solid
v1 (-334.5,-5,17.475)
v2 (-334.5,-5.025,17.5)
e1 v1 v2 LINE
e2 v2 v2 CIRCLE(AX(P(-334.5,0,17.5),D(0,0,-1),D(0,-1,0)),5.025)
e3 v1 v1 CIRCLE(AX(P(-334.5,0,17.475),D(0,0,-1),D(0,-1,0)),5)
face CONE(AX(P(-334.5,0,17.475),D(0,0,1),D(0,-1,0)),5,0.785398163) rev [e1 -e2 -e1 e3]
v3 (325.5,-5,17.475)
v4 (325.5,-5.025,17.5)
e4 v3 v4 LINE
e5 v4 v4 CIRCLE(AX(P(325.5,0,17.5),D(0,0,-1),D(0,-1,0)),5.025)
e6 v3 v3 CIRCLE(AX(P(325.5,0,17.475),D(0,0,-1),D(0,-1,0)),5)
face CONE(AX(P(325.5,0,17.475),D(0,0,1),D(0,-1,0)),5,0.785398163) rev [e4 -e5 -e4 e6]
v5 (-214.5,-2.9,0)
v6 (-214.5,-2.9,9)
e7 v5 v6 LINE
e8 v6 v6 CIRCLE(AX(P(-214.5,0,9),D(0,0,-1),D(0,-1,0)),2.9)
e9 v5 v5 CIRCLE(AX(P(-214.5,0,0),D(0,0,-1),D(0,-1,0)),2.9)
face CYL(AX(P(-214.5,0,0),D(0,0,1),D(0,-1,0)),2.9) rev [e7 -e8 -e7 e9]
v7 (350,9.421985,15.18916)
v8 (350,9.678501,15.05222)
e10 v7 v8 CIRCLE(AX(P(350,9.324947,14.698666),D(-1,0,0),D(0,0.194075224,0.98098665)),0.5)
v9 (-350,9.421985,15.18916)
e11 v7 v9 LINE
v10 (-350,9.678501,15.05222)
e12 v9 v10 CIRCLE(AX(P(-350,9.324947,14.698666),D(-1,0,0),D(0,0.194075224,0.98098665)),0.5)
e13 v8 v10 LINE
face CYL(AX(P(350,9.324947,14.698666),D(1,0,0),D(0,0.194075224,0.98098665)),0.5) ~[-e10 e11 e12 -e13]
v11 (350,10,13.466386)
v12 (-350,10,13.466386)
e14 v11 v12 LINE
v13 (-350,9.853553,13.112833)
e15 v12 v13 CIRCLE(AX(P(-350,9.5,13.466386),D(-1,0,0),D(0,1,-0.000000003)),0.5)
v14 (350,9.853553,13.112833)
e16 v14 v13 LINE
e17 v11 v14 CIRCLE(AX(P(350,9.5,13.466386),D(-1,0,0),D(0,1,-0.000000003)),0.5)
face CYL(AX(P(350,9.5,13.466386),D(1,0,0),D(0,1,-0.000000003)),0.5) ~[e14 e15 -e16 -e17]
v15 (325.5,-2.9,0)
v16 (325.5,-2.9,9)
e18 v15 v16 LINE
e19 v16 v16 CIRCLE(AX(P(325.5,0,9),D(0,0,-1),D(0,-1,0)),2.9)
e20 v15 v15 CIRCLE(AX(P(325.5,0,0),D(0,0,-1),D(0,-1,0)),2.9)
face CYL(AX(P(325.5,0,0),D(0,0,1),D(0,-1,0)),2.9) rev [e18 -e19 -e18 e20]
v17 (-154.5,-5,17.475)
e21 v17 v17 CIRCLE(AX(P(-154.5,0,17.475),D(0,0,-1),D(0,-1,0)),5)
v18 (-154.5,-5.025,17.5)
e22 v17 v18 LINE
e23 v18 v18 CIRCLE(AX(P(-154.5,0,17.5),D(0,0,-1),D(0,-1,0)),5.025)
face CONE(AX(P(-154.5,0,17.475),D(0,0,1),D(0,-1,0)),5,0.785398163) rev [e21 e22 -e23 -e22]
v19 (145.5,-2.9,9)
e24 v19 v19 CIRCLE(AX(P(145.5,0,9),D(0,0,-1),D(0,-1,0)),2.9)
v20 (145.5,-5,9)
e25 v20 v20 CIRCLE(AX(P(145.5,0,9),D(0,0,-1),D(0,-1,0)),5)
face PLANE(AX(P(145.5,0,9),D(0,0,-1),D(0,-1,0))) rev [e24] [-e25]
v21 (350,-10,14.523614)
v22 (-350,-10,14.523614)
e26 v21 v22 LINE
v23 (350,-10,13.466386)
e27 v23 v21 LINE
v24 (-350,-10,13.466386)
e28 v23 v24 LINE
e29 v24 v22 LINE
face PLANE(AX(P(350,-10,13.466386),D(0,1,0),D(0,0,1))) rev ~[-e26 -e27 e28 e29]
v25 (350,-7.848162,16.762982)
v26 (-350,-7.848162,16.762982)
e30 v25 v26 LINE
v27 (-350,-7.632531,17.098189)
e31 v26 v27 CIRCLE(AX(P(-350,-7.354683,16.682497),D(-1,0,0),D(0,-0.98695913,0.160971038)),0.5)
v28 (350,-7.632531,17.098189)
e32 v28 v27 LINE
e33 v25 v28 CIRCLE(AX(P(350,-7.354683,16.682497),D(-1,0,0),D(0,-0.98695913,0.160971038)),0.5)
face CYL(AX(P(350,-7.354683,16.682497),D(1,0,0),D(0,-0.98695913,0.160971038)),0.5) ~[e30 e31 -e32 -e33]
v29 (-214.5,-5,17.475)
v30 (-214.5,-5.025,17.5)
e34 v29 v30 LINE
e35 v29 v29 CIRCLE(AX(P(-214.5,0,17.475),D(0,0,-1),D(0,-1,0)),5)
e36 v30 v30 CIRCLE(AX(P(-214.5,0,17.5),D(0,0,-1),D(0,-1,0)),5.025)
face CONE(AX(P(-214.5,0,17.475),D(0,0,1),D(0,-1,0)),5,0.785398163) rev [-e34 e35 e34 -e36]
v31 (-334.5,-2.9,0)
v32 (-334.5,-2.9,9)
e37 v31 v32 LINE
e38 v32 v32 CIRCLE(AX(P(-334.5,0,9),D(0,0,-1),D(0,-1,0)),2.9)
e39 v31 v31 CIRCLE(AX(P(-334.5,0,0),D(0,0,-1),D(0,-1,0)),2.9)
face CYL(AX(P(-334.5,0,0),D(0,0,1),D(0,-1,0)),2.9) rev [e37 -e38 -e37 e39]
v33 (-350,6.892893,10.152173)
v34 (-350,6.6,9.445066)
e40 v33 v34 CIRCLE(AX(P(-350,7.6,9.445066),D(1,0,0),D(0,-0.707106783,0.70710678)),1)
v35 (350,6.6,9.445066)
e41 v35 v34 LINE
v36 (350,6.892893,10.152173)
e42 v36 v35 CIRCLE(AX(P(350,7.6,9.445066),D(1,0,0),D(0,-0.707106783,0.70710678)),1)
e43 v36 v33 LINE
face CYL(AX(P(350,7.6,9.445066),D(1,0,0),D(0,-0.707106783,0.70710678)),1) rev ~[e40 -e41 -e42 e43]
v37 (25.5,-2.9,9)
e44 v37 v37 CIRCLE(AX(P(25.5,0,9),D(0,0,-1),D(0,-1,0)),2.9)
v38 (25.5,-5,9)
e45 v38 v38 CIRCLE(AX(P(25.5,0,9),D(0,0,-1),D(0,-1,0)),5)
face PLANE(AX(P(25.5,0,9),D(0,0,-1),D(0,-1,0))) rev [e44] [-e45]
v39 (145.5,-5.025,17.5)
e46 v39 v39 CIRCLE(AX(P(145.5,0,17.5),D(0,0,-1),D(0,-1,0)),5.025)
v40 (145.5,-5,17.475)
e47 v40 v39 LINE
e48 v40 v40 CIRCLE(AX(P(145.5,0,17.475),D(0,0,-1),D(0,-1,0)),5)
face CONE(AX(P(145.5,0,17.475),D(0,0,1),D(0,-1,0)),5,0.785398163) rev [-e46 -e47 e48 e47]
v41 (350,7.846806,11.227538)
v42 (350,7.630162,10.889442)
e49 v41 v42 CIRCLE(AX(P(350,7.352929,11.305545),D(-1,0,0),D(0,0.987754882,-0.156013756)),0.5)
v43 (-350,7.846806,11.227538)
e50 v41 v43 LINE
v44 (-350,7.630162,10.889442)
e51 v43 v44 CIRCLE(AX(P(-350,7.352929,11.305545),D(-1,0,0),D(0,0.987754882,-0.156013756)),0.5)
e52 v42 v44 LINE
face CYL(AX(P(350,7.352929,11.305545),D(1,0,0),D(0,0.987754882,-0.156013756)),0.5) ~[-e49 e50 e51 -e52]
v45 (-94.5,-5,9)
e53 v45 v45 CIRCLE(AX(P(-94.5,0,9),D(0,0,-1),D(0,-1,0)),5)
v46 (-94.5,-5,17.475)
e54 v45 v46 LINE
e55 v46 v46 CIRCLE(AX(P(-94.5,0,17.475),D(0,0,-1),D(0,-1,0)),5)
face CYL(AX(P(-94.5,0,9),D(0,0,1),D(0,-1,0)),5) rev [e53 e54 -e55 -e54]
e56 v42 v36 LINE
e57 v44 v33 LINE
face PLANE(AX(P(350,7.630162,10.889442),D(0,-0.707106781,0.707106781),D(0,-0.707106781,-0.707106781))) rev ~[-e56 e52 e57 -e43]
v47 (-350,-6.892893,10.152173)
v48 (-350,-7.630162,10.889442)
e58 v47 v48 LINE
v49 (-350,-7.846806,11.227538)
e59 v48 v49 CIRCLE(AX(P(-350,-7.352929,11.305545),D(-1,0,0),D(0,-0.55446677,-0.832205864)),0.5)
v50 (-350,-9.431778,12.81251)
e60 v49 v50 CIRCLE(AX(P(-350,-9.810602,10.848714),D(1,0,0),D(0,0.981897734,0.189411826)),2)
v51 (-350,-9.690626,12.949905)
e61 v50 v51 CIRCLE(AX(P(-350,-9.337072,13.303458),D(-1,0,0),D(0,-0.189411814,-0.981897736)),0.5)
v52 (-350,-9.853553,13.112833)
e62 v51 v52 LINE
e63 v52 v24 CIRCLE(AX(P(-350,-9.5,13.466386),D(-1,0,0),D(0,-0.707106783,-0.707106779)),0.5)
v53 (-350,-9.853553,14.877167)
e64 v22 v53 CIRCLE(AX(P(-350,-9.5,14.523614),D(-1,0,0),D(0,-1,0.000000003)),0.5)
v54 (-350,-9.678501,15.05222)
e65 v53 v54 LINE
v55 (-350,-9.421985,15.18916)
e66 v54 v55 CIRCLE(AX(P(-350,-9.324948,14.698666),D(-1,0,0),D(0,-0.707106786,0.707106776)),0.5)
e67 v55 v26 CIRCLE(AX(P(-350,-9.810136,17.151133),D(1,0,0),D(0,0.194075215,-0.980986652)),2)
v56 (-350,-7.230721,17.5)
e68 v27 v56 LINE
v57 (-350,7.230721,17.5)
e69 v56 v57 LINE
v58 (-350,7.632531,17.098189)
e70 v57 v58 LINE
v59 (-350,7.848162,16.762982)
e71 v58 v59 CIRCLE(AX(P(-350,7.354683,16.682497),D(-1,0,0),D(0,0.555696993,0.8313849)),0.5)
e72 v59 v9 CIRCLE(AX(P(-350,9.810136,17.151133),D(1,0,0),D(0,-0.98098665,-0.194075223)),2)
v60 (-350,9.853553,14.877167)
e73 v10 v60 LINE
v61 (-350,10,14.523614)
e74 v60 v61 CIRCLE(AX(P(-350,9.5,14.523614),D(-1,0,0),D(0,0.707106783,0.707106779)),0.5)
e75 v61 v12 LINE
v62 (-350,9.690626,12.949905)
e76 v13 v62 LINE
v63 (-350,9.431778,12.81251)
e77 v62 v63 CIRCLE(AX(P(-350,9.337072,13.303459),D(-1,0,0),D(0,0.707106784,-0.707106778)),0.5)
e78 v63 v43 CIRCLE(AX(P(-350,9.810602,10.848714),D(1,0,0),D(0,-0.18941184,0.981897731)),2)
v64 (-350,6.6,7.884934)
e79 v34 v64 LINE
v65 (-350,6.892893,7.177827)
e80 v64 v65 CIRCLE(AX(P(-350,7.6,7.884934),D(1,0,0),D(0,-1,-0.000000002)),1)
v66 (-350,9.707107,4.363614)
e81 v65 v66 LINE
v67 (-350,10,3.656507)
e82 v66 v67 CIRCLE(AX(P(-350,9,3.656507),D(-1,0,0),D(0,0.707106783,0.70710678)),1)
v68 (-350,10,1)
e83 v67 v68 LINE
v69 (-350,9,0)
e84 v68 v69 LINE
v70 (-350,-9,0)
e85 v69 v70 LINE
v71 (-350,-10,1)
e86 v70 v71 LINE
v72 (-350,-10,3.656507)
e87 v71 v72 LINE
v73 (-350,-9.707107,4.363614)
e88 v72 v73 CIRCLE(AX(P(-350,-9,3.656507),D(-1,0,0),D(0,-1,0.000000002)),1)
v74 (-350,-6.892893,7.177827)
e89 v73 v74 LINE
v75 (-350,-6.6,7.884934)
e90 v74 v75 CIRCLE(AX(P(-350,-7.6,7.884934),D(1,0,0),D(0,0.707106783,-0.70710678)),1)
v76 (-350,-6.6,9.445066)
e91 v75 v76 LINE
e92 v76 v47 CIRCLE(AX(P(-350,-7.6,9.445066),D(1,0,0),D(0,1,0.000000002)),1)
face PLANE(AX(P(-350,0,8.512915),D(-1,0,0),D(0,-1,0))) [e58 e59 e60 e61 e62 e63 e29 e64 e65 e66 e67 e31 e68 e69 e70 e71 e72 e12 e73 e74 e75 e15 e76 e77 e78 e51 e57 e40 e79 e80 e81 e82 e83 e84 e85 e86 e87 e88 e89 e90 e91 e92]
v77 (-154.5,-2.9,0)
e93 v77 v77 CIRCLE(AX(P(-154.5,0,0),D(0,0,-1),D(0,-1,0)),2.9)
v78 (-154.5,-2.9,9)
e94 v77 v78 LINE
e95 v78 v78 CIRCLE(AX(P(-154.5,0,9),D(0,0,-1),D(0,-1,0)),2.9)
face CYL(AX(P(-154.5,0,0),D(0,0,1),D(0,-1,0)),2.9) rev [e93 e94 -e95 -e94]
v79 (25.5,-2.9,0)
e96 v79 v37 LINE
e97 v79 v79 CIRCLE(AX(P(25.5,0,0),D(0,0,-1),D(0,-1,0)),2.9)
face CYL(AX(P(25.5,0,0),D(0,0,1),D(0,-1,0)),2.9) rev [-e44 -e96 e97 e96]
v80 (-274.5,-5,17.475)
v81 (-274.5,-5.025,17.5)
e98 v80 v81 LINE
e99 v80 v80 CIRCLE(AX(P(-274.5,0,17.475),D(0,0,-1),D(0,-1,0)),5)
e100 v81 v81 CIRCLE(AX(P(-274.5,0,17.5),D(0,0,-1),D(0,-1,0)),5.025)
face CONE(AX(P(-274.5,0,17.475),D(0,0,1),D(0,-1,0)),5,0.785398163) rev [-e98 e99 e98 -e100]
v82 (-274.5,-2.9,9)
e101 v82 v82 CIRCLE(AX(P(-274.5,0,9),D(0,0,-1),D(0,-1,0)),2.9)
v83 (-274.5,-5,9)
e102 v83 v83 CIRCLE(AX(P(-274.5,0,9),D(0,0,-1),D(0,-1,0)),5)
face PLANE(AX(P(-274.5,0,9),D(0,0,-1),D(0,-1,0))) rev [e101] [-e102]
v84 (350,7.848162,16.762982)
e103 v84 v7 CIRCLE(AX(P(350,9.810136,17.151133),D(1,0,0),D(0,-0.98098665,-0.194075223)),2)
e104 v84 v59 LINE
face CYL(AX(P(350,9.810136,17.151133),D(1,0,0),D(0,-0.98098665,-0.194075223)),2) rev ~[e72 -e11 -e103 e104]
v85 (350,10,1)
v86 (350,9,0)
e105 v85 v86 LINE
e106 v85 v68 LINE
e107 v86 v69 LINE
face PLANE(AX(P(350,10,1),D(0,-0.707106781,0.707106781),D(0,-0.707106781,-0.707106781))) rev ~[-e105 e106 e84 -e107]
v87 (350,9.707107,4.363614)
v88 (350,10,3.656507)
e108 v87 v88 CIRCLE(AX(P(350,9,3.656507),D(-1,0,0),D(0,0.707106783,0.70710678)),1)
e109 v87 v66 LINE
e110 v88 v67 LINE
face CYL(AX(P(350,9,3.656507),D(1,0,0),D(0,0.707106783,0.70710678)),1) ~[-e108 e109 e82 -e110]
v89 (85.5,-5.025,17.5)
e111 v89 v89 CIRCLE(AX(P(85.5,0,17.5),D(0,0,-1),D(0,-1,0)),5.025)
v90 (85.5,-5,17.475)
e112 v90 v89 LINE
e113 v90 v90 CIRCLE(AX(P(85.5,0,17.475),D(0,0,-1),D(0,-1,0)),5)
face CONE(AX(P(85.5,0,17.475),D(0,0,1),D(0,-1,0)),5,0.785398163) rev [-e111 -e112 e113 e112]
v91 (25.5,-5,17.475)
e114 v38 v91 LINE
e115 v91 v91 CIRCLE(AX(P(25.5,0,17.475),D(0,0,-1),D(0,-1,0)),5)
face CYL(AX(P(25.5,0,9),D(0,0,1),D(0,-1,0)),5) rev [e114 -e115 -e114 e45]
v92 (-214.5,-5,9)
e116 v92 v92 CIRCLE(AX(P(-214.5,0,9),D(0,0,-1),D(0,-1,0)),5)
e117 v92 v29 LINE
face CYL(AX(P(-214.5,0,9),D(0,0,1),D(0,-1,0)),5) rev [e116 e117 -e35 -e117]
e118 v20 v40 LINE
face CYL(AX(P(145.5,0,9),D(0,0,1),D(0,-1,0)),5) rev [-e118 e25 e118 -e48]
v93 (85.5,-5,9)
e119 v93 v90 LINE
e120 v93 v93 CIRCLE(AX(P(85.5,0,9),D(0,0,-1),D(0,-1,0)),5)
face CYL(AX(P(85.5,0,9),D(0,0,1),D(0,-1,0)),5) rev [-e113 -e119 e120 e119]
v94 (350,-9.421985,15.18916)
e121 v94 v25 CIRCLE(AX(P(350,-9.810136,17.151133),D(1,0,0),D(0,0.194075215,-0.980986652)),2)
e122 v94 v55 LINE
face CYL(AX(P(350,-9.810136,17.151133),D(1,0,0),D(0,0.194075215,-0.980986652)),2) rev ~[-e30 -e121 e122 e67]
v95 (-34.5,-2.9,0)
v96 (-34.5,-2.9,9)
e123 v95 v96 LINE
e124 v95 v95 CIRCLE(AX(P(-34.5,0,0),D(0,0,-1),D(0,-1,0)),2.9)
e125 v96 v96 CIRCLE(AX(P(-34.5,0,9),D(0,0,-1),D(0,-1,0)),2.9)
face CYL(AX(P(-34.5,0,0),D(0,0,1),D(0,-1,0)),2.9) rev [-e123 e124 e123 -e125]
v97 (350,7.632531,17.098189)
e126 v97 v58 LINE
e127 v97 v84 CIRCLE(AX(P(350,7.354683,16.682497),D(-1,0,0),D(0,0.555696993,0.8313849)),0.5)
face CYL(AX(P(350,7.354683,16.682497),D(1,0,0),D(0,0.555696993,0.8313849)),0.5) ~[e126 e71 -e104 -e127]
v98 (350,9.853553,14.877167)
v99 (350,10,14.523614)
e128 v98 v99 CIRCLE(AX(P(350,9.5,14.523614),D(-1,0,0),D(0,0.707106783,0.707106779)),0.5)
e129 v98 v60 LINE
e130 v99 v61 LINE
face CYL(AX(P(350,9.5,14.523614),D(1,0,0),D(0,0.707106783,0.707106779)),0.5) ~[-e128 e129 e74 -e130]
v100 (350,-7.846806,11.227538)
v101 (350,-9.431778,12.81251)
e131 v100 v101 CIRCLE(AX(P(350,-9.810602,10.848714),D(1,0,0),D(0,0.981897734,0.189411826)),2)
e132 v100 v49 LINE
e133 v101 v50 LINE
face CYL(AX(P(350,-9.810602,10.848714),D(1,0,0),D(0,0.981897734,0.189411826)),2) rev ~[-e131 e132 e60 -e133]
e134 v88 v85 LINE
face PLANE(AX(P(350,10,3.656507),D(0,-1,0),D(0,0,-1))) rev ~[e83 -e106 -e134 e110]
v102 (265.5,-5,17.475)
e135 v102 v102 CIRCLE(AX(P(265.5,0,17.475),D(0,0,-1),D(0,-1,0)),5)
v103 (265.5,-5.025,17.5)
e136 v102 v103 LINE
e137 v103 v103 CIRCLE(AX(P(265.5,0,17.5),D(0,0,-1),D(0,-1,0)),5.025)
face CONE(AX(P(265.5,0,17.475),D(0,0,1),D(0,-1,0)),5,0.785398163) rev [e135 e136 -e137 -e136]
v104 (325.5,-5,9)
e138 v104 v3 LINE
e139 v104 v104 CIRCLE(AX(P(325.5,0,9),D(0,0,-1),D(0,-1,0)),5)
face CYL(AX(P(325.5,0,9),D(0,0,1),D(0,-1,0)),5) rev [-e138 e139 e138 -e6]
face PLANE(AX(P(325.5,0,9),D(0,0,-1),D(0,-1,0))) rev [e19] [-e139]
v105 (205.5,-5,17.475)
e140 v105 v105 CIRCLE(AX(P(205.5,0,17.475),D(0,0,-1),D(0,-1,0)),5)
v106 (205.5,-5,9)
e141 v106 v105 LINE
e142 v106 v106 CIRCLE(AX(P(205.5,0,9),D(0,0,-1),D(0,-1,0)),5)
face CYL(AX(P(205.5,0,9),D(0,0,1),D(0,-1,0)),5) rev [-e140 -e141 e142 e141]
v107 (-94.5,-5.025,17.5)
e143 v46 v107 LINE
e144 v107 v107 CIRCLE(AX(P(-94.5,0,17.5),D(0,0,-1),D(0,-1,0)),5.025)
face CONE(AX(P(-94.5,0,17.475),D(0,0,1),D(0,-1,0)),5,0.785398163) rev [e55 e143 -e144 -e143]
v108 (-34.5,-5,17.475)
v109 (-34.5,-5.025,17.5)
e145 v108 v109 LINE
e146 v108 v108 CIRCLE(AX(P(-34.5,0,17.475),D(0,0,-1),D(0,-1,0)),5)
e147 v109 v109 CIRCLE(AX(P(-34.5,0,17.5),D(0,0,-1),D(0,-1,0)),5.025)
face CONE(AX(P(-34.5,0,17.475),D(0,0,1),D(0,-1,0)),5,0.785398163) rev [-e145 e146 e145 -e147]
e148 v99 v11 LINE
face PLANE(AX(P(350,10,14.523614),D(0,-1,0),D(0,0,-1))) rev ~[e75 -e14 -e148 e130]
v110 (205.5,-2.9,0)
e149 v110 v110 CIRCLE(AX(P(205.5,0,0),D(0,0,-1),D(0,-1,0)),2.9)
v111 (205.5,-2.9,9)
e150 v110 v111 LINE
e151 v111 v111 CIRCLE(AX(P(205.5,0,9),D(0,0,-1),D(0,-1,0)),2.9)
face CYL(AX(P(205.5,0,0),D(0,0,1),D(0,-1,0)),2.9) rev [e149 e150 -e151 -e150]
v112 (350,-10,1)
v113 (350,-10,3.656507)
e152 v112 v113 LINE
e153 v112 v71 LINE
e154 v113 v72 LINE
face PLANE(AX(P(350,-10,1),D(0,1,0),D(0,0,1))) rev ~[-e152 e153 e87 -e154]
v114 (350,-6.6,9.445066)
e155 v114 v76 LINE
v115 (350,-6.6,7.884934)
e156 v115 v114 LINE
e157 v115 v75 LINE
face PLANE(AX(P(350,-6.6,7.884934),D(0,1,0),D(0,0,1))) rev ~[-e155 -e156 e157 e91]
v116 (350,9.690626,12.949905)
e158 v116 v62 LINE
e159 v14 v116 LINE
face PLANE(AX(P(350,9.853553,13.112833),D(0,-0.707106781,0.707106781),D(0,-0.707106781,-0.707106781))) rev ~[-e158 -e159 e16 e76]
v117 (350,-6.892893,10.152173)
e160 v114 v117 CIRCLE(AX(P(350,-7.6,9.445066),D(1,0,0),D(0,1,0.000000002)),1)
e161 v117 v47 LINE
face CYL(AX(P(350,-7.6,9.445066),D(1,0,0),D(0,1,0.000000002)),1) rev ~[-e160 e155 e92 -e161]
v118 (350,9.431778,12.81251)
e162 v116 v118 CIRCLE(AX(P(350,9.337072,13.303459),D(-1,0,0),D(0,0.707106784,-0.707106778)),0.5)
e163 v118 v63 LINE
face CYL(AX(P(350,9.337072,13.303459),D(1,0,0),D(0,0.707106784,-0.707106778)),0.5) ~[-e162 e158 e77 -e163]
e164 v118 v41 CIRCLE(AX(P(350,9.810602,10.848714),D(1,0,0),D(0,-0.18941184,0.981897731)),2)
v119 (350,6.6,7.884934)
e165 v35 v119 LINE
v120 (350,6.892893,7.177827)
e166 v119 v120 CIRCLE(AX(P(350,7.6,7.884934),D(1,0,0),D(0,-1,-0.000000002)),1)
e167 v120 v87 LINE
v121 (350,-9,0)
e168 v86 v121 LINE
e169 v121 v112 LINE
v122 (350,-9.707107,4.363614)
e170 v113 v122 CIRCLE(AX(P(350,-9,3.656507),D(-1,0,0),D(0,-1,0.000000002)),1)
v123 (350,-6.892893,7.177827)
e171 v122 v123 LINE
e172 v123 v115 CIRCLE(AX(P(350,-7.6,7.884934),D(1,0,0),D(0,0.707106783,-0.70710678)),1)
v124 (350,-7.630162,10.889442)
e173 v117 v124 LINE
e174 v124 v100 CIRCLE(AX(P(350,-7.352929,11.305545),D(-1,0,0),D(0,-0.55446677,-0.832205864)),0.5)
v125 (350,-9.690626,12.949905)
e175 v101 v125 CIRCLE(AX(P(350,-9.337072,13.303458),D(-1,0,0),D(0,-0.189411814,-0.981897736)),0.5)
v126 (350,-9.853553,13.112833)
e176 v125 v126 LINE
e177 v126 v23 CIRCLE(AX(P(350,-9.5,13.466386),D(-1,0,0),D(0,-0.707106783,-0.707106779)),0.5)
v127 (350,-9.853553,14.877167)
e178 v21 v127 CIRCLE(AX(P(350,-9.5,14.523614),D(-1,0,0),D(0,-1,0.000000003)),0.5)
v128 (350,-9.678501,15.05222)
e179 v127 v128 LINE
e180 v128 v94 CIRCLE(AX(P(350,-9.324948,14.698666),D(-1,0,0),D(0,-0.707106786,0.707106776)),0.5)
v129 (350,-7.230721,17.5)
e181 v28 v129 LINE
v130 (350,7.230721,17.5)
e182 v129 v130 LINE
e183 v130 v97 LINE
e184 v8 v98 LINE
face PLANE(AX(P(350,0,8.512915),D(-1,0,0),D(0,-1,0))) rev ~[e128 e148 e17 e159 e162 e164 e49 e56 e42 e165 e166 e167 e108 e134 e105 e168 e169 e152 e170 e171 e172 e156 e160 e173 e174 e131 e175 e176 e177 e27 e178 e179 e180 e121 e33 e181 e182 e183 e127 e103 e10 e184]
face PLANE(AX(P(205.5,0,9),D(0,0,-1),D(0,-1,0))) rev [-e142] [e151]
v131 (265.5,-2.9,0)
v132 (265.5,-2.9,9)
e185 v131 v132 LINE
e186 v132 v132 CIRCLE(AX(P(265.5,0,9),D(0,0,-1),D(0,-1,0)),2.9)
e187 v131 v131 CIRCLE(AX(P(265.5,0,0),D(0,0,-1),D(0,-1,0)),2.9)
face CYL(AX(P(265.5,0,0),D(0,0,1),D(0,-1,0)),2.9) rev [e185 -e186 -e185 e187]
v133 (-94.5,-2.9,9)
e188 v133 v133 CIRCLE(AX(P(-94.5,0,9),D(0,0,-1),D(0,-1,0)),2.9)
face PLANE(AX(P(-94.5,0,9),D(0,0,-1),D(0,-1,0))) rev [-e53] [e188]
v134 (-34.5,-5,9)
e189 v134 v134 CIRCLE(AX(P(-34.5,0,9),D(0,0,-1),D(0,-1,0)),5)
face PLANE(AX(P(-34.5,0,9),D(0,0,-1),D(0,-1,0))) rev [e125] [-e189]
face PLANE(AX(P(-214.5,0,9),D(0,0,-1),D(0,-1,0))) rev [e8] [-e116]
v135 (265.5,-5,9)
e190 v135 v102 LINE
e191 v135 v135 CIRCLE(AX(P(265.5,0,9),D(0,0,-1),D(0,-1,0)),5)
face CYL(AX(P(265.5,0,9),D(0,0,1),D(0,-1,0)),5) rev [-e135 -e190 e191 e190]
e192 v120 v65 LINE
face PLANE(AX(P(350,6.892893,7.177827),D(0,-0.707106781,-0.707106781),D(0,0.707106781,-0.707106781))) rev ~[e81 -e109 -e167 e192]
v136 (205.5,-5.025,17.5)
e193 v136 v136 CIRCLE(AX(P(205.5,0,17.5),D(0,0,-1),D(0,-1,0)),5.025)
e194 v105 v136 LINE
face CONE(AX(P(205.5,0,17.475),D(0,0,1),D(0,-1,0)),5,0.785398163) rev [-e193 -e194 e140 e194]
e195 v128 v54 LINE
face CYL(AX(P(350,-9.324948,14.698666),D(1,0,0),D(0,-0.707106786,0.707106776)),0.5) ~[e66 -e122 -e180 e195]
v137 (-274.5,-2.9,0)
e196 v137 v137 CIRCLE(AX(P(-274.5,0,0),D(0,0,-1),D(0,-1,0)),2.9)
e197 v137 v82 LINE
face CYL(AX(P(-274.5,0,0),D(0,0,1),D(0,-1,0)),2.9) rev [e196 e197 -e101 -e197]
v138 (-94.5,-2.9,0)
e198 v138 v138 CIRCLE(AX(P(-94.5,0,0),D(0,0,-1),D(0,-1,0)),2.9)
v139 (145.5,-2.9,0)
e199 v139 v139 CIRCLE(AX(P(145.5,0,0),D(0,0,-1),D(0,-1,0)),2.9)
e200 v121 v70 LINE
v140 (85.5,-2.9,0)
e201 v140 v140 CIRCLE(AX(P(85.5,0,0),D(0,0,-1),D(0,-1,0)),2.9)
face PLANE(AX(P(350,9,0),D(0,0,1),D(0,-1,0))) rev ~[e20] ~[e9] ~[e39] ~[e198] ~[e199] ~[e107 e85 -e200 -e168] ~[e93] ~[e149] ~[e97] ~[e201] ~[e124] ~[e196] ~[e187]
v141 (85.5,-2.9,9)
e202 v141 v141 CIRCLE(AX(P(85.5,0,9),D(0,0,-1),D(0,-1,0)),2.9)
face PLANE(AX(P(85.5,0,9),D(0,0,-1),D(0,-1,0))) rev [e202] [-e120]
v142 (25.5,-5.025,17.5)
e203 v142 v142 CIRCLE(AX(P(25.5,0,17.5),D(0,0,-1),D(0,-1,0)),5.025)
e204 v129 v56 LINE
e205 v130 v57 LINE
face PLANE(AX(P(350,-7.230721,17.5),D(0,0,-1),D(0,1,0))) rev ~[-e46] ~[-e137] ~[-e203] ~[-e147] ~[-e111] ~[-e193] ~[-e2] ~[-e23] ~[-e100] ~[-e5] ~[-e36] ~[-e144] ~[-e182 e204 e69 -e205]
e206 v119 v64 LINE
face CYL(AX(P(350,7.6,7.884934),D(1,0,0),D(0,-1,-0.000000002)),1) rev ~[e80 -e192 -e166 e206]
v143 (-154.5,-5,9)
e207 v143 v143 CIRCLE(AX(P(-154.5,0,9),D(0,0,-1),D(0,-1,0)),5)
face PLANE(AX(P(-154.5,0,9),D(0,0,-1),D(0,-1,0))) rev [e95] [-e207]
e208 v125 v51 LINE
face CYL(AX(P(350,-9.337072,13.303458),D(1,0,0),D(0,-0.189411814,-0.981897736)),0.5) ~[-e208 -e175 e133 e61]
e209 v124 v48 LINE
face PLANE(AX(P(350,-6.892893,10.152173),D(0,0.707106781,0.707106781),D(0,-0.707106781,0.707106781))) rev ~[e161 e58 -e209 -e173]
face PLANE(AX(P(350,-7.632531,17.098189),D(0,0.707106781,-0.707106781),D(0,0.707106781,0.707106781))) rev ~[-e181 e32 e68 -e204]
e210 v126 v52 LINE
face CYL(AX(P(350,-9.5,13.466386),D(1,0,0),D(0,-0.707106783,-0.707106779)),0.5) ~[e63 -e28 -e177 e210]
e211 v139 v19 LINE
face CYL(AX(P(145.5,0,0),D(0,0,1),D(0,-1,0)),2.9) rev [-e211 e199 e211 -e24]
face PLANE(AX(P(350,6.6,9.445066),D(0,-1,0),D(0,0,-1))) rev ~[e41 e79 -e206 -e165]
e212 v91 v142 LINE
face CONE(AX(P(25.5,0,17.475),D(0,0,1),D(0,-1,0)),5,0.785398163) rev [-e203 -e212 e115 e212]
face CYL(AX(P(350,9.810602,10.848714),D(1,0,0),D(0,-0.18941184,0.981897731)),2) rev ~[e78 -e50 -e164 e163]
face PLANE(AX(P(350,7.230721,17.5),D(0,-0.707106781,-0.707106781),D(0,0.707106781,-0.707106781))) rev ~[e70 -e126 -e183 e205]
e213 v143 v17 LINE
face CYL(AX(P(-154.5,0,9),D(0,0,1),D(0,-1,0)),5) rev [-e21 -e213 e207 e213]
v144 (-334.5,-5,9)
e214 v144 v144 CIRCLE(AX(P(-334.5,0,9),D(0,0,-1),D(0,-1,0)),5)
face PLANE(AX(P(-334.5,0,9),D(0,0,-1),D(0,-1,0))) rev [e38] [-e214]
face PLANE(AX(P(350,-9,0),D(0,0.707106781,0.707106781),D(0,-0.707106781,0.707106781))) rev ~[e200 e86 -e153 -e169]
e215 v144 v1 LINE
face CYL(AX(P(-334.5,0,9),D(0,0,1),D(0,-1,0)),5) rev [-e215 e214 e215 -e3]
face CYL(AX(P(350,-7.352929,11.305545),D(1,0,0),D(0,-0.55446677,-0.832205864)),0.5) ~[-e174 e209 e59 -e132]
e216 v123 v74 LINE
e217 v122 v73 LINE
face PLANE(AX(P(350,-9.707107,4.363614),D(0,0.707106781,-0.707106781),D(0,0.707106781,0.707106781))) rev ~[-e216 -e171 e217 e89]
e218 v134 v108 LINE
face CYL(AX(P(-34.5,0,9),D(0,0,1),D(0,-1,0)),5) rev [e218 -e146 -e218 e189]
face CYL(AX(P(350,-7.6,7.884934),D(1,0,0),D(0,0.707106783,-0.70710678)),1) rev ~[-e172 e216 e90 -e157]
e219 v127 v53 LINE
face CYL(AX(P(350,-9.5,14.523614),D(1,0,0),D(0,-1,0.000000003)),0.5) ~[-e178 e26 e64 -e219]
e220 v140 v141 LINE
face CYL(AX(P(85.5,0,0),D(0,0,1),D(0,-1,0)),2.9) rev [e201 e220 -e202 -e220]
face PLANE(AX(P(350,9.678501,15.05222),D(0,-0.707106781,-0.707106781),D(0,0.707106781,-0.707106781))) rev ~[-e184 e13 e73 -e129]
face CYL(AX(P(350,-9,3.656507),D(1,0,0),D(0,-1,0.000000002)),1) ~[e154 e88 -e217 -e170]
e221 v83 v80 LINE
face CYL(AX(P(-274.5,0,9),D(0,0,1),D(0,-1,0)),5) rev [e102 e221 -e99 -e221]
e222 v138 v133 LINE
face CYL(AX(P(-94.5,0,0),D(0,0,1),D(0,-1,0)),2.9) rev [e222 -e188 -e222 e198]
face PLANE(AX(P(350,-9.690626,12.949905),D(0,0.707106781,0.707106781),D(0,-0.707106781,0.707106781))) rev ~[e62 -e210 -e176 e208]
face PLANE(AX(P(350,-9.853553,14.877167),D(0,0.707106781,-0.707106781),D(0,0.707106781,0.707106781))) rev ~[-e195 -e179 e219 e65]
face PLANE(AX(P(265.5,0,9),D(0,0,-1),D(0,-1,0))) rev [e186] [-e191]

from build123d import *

# Parameters (mm, degrees)
HGR_HGR20_1_DEPTH = 700
LPATTERN1_COUNT   = 12
LPATTERN1_PITCH   = 60


with BuildPart() as part:
    # Sketch14 → Hgr HGR20(1) (new body)
    with BuildSketch(Plane(origin=(350, 0, 0), x_dir=(0, -1, 0), z_dir=(-1, 0, 0))):
        with BuildLine():
            Line((-9, 0), (9, 0))
            Line((9, 0), (10, 1))
            Line((10, 1), (10, 3.656507036))
            ThreePointArc((10, 3.656507036), (9.92387953, 4.039190479), (9.707106773, 4.363613837))
            Line((9.707106773, 4.363613837), (6.892893227, 7.177827383))
            ThreePointArc((6.892893227, 7.177827383), (6.67612047, 7.502250741), (6.6, 7.884934184))
            Line((6.6, 7.884934184), (6.6, 9.445065806))
            ThreePointArc((6.6, 9.445065806), (6.67612047, 9.827749249), (6.892893227, 10.152172607))
            Line((6.892893227, 10.152172607), (7.63016236, 10.88944174))
            ThreePointArc((7.63016236, 10.88944174), (7.773916168, 11.035785916), (7.84680643, 11.2275378))
            ThreePointArc((7.84680643, 11.2275378), (8.396388337, 12.262927707), (9.431778248, 12.812509604))
            ThreePointArc((9.431778248, 12.812509604), (9.57149389, 12.861817745), (9.690625667, 12.949905047))
            Line((9.690625667, 12.949905047), (9.85355341, 13.11283279))
            ThreePointArc((9.85355341, 13.11283279), (9.961939771, 13.275044443), (10, 13.466386134))
            Line((10, 13.466386134), (10, 14.523613846))
            ThreePointArc((10, 14.523613846), (9.961939771, 14.714955537), (9.85355341, 14.87716719))
            Line((9.85355341, 14.87716719), (9.678500884, 15.052219716))
            ThreePointArc((9.678500884, 15.052219716), (9.560417671, 15.13974885), (9.421985128, 15.189159636))
            ThreePointArc((9.421985128, 15.189159636), (8.395921997, 15.736919373), (7.84816225, 16.7629825))
            ThreePointArc((7.84816225, 16.7629825), (7.7751915, 16.95300083), (7.63253117, 17.09818942))
            Line((7.63253117, 17.09818942), (7.23072061, 17.49999998))
            Line((7.23072061, 17.49999998), (-7.23072061, 17.49999998))
            Line((-7.23072061, 17.49999998), (-7.63253117, 17.09818942))
            ThreePointArc((-7.63253117, 17.09818942), (-7.775191493, 16.953000826), (-7.84816225, 16.7629825))
            ThreePointArc((-7.84816225, 16.7629825), (-8.395921988, 15.736919382), (-9.421985103, 15.189159641))
            ThreePointArc((-9.421985103, 15.189159641), (-9.560417671, 15.139748844), (-9.678500907, 15.052219693))
            Line((-9.678500907, 15.052219693), (-9.85355341, 14.87716719))
            ThreePointArc((-9.85355341, 14.87716719), (-9.961939771, 14.714955537), (-10, 14.523613846))
            Line((-10, 14.523613846), (-10, 13.466386134))
            ThreePointArc((-10, 13.466386134), (-9.961939771, 13.275044443), (-9.85355341, 13.11283279))
            Line((-9.85355341, 13.11283279), (-9.690625709, 12.949905089))
            ThreePointArc((-9.690625709, 12.949905089), (-9.571493891, 12.861817755), (-9.431778202, 12.812509595))
            ThreePointArc((-9.431778202, 12.812509595), (-8.39638832, 12.26292769), (-7.84680643, 11.2275378))
            ThreePointArc((-7.84680643, 11.2275378), (-7.773916172, 11.035785914), (-7.63016236, 10.88944174))
            Line((-7.63016236, 10.88944174), (-6.892893227, 10.152172607))
            ThreePointArc((-6.892893227, 10.152172607), (-6.67612047, 9.827749249), (-6.6, 9.445065806))
            Line((-6.6, 9.445065806), (-6.6, 7.884934184))
            ThreePointArc((-6.6, 7.884934184), (-6.67612047, 7.502250741), (-6.892893227, 7.177827383))
            Line((-6.892893227, 7.177827383), (-9.707106773, 4.363613837))
            ThreePointArc((-9.707106773, 4.363613837), (-9.92387953, 4.039190479), (-10, 3.656507036))
            Line((-10, 3.656507036), (-10, 1))
            Line((-10, 1), (-9, 0))
        make_face()
    extrude(amount=HGR_HGR20_1_DEPTH)

    # Sketch16 → CBORE for M5 Hex Socket Head Cap Screw1 (revolve, cut)
    with BuildSketch(Plane(origin=(-334.5, 0, 17.49999998), x_dir=(0, -1, 0), z_dir=(1, 0, 0))):
        Polygon((0, 0), (0, 17.49999998), (2.9, 17.49999998), (2.9, 8.5), (5, 8.5), (5, 0.025), (5.025, 0), align=None)
    cbore_for_m5_hex_socket_head_cap_screw1 = revolve(axis=Axis((-334.5, 0, 23.84999998), (0, 0, -1)), mode=Mode.SUBTRACT)

    # LPattern1: CBORE for M5 Hex Socket Head Cap Screw1 ×12
    with Locations(*[(i * LPATTERN1_PITCH, 0, 0) for i in range(1, LPATTERN1_COUNT)]):
        add(cbore_for_m5_hex_socket_head_cap_screw1, mode=Mode.SUBTRACT)


solid = part.part
